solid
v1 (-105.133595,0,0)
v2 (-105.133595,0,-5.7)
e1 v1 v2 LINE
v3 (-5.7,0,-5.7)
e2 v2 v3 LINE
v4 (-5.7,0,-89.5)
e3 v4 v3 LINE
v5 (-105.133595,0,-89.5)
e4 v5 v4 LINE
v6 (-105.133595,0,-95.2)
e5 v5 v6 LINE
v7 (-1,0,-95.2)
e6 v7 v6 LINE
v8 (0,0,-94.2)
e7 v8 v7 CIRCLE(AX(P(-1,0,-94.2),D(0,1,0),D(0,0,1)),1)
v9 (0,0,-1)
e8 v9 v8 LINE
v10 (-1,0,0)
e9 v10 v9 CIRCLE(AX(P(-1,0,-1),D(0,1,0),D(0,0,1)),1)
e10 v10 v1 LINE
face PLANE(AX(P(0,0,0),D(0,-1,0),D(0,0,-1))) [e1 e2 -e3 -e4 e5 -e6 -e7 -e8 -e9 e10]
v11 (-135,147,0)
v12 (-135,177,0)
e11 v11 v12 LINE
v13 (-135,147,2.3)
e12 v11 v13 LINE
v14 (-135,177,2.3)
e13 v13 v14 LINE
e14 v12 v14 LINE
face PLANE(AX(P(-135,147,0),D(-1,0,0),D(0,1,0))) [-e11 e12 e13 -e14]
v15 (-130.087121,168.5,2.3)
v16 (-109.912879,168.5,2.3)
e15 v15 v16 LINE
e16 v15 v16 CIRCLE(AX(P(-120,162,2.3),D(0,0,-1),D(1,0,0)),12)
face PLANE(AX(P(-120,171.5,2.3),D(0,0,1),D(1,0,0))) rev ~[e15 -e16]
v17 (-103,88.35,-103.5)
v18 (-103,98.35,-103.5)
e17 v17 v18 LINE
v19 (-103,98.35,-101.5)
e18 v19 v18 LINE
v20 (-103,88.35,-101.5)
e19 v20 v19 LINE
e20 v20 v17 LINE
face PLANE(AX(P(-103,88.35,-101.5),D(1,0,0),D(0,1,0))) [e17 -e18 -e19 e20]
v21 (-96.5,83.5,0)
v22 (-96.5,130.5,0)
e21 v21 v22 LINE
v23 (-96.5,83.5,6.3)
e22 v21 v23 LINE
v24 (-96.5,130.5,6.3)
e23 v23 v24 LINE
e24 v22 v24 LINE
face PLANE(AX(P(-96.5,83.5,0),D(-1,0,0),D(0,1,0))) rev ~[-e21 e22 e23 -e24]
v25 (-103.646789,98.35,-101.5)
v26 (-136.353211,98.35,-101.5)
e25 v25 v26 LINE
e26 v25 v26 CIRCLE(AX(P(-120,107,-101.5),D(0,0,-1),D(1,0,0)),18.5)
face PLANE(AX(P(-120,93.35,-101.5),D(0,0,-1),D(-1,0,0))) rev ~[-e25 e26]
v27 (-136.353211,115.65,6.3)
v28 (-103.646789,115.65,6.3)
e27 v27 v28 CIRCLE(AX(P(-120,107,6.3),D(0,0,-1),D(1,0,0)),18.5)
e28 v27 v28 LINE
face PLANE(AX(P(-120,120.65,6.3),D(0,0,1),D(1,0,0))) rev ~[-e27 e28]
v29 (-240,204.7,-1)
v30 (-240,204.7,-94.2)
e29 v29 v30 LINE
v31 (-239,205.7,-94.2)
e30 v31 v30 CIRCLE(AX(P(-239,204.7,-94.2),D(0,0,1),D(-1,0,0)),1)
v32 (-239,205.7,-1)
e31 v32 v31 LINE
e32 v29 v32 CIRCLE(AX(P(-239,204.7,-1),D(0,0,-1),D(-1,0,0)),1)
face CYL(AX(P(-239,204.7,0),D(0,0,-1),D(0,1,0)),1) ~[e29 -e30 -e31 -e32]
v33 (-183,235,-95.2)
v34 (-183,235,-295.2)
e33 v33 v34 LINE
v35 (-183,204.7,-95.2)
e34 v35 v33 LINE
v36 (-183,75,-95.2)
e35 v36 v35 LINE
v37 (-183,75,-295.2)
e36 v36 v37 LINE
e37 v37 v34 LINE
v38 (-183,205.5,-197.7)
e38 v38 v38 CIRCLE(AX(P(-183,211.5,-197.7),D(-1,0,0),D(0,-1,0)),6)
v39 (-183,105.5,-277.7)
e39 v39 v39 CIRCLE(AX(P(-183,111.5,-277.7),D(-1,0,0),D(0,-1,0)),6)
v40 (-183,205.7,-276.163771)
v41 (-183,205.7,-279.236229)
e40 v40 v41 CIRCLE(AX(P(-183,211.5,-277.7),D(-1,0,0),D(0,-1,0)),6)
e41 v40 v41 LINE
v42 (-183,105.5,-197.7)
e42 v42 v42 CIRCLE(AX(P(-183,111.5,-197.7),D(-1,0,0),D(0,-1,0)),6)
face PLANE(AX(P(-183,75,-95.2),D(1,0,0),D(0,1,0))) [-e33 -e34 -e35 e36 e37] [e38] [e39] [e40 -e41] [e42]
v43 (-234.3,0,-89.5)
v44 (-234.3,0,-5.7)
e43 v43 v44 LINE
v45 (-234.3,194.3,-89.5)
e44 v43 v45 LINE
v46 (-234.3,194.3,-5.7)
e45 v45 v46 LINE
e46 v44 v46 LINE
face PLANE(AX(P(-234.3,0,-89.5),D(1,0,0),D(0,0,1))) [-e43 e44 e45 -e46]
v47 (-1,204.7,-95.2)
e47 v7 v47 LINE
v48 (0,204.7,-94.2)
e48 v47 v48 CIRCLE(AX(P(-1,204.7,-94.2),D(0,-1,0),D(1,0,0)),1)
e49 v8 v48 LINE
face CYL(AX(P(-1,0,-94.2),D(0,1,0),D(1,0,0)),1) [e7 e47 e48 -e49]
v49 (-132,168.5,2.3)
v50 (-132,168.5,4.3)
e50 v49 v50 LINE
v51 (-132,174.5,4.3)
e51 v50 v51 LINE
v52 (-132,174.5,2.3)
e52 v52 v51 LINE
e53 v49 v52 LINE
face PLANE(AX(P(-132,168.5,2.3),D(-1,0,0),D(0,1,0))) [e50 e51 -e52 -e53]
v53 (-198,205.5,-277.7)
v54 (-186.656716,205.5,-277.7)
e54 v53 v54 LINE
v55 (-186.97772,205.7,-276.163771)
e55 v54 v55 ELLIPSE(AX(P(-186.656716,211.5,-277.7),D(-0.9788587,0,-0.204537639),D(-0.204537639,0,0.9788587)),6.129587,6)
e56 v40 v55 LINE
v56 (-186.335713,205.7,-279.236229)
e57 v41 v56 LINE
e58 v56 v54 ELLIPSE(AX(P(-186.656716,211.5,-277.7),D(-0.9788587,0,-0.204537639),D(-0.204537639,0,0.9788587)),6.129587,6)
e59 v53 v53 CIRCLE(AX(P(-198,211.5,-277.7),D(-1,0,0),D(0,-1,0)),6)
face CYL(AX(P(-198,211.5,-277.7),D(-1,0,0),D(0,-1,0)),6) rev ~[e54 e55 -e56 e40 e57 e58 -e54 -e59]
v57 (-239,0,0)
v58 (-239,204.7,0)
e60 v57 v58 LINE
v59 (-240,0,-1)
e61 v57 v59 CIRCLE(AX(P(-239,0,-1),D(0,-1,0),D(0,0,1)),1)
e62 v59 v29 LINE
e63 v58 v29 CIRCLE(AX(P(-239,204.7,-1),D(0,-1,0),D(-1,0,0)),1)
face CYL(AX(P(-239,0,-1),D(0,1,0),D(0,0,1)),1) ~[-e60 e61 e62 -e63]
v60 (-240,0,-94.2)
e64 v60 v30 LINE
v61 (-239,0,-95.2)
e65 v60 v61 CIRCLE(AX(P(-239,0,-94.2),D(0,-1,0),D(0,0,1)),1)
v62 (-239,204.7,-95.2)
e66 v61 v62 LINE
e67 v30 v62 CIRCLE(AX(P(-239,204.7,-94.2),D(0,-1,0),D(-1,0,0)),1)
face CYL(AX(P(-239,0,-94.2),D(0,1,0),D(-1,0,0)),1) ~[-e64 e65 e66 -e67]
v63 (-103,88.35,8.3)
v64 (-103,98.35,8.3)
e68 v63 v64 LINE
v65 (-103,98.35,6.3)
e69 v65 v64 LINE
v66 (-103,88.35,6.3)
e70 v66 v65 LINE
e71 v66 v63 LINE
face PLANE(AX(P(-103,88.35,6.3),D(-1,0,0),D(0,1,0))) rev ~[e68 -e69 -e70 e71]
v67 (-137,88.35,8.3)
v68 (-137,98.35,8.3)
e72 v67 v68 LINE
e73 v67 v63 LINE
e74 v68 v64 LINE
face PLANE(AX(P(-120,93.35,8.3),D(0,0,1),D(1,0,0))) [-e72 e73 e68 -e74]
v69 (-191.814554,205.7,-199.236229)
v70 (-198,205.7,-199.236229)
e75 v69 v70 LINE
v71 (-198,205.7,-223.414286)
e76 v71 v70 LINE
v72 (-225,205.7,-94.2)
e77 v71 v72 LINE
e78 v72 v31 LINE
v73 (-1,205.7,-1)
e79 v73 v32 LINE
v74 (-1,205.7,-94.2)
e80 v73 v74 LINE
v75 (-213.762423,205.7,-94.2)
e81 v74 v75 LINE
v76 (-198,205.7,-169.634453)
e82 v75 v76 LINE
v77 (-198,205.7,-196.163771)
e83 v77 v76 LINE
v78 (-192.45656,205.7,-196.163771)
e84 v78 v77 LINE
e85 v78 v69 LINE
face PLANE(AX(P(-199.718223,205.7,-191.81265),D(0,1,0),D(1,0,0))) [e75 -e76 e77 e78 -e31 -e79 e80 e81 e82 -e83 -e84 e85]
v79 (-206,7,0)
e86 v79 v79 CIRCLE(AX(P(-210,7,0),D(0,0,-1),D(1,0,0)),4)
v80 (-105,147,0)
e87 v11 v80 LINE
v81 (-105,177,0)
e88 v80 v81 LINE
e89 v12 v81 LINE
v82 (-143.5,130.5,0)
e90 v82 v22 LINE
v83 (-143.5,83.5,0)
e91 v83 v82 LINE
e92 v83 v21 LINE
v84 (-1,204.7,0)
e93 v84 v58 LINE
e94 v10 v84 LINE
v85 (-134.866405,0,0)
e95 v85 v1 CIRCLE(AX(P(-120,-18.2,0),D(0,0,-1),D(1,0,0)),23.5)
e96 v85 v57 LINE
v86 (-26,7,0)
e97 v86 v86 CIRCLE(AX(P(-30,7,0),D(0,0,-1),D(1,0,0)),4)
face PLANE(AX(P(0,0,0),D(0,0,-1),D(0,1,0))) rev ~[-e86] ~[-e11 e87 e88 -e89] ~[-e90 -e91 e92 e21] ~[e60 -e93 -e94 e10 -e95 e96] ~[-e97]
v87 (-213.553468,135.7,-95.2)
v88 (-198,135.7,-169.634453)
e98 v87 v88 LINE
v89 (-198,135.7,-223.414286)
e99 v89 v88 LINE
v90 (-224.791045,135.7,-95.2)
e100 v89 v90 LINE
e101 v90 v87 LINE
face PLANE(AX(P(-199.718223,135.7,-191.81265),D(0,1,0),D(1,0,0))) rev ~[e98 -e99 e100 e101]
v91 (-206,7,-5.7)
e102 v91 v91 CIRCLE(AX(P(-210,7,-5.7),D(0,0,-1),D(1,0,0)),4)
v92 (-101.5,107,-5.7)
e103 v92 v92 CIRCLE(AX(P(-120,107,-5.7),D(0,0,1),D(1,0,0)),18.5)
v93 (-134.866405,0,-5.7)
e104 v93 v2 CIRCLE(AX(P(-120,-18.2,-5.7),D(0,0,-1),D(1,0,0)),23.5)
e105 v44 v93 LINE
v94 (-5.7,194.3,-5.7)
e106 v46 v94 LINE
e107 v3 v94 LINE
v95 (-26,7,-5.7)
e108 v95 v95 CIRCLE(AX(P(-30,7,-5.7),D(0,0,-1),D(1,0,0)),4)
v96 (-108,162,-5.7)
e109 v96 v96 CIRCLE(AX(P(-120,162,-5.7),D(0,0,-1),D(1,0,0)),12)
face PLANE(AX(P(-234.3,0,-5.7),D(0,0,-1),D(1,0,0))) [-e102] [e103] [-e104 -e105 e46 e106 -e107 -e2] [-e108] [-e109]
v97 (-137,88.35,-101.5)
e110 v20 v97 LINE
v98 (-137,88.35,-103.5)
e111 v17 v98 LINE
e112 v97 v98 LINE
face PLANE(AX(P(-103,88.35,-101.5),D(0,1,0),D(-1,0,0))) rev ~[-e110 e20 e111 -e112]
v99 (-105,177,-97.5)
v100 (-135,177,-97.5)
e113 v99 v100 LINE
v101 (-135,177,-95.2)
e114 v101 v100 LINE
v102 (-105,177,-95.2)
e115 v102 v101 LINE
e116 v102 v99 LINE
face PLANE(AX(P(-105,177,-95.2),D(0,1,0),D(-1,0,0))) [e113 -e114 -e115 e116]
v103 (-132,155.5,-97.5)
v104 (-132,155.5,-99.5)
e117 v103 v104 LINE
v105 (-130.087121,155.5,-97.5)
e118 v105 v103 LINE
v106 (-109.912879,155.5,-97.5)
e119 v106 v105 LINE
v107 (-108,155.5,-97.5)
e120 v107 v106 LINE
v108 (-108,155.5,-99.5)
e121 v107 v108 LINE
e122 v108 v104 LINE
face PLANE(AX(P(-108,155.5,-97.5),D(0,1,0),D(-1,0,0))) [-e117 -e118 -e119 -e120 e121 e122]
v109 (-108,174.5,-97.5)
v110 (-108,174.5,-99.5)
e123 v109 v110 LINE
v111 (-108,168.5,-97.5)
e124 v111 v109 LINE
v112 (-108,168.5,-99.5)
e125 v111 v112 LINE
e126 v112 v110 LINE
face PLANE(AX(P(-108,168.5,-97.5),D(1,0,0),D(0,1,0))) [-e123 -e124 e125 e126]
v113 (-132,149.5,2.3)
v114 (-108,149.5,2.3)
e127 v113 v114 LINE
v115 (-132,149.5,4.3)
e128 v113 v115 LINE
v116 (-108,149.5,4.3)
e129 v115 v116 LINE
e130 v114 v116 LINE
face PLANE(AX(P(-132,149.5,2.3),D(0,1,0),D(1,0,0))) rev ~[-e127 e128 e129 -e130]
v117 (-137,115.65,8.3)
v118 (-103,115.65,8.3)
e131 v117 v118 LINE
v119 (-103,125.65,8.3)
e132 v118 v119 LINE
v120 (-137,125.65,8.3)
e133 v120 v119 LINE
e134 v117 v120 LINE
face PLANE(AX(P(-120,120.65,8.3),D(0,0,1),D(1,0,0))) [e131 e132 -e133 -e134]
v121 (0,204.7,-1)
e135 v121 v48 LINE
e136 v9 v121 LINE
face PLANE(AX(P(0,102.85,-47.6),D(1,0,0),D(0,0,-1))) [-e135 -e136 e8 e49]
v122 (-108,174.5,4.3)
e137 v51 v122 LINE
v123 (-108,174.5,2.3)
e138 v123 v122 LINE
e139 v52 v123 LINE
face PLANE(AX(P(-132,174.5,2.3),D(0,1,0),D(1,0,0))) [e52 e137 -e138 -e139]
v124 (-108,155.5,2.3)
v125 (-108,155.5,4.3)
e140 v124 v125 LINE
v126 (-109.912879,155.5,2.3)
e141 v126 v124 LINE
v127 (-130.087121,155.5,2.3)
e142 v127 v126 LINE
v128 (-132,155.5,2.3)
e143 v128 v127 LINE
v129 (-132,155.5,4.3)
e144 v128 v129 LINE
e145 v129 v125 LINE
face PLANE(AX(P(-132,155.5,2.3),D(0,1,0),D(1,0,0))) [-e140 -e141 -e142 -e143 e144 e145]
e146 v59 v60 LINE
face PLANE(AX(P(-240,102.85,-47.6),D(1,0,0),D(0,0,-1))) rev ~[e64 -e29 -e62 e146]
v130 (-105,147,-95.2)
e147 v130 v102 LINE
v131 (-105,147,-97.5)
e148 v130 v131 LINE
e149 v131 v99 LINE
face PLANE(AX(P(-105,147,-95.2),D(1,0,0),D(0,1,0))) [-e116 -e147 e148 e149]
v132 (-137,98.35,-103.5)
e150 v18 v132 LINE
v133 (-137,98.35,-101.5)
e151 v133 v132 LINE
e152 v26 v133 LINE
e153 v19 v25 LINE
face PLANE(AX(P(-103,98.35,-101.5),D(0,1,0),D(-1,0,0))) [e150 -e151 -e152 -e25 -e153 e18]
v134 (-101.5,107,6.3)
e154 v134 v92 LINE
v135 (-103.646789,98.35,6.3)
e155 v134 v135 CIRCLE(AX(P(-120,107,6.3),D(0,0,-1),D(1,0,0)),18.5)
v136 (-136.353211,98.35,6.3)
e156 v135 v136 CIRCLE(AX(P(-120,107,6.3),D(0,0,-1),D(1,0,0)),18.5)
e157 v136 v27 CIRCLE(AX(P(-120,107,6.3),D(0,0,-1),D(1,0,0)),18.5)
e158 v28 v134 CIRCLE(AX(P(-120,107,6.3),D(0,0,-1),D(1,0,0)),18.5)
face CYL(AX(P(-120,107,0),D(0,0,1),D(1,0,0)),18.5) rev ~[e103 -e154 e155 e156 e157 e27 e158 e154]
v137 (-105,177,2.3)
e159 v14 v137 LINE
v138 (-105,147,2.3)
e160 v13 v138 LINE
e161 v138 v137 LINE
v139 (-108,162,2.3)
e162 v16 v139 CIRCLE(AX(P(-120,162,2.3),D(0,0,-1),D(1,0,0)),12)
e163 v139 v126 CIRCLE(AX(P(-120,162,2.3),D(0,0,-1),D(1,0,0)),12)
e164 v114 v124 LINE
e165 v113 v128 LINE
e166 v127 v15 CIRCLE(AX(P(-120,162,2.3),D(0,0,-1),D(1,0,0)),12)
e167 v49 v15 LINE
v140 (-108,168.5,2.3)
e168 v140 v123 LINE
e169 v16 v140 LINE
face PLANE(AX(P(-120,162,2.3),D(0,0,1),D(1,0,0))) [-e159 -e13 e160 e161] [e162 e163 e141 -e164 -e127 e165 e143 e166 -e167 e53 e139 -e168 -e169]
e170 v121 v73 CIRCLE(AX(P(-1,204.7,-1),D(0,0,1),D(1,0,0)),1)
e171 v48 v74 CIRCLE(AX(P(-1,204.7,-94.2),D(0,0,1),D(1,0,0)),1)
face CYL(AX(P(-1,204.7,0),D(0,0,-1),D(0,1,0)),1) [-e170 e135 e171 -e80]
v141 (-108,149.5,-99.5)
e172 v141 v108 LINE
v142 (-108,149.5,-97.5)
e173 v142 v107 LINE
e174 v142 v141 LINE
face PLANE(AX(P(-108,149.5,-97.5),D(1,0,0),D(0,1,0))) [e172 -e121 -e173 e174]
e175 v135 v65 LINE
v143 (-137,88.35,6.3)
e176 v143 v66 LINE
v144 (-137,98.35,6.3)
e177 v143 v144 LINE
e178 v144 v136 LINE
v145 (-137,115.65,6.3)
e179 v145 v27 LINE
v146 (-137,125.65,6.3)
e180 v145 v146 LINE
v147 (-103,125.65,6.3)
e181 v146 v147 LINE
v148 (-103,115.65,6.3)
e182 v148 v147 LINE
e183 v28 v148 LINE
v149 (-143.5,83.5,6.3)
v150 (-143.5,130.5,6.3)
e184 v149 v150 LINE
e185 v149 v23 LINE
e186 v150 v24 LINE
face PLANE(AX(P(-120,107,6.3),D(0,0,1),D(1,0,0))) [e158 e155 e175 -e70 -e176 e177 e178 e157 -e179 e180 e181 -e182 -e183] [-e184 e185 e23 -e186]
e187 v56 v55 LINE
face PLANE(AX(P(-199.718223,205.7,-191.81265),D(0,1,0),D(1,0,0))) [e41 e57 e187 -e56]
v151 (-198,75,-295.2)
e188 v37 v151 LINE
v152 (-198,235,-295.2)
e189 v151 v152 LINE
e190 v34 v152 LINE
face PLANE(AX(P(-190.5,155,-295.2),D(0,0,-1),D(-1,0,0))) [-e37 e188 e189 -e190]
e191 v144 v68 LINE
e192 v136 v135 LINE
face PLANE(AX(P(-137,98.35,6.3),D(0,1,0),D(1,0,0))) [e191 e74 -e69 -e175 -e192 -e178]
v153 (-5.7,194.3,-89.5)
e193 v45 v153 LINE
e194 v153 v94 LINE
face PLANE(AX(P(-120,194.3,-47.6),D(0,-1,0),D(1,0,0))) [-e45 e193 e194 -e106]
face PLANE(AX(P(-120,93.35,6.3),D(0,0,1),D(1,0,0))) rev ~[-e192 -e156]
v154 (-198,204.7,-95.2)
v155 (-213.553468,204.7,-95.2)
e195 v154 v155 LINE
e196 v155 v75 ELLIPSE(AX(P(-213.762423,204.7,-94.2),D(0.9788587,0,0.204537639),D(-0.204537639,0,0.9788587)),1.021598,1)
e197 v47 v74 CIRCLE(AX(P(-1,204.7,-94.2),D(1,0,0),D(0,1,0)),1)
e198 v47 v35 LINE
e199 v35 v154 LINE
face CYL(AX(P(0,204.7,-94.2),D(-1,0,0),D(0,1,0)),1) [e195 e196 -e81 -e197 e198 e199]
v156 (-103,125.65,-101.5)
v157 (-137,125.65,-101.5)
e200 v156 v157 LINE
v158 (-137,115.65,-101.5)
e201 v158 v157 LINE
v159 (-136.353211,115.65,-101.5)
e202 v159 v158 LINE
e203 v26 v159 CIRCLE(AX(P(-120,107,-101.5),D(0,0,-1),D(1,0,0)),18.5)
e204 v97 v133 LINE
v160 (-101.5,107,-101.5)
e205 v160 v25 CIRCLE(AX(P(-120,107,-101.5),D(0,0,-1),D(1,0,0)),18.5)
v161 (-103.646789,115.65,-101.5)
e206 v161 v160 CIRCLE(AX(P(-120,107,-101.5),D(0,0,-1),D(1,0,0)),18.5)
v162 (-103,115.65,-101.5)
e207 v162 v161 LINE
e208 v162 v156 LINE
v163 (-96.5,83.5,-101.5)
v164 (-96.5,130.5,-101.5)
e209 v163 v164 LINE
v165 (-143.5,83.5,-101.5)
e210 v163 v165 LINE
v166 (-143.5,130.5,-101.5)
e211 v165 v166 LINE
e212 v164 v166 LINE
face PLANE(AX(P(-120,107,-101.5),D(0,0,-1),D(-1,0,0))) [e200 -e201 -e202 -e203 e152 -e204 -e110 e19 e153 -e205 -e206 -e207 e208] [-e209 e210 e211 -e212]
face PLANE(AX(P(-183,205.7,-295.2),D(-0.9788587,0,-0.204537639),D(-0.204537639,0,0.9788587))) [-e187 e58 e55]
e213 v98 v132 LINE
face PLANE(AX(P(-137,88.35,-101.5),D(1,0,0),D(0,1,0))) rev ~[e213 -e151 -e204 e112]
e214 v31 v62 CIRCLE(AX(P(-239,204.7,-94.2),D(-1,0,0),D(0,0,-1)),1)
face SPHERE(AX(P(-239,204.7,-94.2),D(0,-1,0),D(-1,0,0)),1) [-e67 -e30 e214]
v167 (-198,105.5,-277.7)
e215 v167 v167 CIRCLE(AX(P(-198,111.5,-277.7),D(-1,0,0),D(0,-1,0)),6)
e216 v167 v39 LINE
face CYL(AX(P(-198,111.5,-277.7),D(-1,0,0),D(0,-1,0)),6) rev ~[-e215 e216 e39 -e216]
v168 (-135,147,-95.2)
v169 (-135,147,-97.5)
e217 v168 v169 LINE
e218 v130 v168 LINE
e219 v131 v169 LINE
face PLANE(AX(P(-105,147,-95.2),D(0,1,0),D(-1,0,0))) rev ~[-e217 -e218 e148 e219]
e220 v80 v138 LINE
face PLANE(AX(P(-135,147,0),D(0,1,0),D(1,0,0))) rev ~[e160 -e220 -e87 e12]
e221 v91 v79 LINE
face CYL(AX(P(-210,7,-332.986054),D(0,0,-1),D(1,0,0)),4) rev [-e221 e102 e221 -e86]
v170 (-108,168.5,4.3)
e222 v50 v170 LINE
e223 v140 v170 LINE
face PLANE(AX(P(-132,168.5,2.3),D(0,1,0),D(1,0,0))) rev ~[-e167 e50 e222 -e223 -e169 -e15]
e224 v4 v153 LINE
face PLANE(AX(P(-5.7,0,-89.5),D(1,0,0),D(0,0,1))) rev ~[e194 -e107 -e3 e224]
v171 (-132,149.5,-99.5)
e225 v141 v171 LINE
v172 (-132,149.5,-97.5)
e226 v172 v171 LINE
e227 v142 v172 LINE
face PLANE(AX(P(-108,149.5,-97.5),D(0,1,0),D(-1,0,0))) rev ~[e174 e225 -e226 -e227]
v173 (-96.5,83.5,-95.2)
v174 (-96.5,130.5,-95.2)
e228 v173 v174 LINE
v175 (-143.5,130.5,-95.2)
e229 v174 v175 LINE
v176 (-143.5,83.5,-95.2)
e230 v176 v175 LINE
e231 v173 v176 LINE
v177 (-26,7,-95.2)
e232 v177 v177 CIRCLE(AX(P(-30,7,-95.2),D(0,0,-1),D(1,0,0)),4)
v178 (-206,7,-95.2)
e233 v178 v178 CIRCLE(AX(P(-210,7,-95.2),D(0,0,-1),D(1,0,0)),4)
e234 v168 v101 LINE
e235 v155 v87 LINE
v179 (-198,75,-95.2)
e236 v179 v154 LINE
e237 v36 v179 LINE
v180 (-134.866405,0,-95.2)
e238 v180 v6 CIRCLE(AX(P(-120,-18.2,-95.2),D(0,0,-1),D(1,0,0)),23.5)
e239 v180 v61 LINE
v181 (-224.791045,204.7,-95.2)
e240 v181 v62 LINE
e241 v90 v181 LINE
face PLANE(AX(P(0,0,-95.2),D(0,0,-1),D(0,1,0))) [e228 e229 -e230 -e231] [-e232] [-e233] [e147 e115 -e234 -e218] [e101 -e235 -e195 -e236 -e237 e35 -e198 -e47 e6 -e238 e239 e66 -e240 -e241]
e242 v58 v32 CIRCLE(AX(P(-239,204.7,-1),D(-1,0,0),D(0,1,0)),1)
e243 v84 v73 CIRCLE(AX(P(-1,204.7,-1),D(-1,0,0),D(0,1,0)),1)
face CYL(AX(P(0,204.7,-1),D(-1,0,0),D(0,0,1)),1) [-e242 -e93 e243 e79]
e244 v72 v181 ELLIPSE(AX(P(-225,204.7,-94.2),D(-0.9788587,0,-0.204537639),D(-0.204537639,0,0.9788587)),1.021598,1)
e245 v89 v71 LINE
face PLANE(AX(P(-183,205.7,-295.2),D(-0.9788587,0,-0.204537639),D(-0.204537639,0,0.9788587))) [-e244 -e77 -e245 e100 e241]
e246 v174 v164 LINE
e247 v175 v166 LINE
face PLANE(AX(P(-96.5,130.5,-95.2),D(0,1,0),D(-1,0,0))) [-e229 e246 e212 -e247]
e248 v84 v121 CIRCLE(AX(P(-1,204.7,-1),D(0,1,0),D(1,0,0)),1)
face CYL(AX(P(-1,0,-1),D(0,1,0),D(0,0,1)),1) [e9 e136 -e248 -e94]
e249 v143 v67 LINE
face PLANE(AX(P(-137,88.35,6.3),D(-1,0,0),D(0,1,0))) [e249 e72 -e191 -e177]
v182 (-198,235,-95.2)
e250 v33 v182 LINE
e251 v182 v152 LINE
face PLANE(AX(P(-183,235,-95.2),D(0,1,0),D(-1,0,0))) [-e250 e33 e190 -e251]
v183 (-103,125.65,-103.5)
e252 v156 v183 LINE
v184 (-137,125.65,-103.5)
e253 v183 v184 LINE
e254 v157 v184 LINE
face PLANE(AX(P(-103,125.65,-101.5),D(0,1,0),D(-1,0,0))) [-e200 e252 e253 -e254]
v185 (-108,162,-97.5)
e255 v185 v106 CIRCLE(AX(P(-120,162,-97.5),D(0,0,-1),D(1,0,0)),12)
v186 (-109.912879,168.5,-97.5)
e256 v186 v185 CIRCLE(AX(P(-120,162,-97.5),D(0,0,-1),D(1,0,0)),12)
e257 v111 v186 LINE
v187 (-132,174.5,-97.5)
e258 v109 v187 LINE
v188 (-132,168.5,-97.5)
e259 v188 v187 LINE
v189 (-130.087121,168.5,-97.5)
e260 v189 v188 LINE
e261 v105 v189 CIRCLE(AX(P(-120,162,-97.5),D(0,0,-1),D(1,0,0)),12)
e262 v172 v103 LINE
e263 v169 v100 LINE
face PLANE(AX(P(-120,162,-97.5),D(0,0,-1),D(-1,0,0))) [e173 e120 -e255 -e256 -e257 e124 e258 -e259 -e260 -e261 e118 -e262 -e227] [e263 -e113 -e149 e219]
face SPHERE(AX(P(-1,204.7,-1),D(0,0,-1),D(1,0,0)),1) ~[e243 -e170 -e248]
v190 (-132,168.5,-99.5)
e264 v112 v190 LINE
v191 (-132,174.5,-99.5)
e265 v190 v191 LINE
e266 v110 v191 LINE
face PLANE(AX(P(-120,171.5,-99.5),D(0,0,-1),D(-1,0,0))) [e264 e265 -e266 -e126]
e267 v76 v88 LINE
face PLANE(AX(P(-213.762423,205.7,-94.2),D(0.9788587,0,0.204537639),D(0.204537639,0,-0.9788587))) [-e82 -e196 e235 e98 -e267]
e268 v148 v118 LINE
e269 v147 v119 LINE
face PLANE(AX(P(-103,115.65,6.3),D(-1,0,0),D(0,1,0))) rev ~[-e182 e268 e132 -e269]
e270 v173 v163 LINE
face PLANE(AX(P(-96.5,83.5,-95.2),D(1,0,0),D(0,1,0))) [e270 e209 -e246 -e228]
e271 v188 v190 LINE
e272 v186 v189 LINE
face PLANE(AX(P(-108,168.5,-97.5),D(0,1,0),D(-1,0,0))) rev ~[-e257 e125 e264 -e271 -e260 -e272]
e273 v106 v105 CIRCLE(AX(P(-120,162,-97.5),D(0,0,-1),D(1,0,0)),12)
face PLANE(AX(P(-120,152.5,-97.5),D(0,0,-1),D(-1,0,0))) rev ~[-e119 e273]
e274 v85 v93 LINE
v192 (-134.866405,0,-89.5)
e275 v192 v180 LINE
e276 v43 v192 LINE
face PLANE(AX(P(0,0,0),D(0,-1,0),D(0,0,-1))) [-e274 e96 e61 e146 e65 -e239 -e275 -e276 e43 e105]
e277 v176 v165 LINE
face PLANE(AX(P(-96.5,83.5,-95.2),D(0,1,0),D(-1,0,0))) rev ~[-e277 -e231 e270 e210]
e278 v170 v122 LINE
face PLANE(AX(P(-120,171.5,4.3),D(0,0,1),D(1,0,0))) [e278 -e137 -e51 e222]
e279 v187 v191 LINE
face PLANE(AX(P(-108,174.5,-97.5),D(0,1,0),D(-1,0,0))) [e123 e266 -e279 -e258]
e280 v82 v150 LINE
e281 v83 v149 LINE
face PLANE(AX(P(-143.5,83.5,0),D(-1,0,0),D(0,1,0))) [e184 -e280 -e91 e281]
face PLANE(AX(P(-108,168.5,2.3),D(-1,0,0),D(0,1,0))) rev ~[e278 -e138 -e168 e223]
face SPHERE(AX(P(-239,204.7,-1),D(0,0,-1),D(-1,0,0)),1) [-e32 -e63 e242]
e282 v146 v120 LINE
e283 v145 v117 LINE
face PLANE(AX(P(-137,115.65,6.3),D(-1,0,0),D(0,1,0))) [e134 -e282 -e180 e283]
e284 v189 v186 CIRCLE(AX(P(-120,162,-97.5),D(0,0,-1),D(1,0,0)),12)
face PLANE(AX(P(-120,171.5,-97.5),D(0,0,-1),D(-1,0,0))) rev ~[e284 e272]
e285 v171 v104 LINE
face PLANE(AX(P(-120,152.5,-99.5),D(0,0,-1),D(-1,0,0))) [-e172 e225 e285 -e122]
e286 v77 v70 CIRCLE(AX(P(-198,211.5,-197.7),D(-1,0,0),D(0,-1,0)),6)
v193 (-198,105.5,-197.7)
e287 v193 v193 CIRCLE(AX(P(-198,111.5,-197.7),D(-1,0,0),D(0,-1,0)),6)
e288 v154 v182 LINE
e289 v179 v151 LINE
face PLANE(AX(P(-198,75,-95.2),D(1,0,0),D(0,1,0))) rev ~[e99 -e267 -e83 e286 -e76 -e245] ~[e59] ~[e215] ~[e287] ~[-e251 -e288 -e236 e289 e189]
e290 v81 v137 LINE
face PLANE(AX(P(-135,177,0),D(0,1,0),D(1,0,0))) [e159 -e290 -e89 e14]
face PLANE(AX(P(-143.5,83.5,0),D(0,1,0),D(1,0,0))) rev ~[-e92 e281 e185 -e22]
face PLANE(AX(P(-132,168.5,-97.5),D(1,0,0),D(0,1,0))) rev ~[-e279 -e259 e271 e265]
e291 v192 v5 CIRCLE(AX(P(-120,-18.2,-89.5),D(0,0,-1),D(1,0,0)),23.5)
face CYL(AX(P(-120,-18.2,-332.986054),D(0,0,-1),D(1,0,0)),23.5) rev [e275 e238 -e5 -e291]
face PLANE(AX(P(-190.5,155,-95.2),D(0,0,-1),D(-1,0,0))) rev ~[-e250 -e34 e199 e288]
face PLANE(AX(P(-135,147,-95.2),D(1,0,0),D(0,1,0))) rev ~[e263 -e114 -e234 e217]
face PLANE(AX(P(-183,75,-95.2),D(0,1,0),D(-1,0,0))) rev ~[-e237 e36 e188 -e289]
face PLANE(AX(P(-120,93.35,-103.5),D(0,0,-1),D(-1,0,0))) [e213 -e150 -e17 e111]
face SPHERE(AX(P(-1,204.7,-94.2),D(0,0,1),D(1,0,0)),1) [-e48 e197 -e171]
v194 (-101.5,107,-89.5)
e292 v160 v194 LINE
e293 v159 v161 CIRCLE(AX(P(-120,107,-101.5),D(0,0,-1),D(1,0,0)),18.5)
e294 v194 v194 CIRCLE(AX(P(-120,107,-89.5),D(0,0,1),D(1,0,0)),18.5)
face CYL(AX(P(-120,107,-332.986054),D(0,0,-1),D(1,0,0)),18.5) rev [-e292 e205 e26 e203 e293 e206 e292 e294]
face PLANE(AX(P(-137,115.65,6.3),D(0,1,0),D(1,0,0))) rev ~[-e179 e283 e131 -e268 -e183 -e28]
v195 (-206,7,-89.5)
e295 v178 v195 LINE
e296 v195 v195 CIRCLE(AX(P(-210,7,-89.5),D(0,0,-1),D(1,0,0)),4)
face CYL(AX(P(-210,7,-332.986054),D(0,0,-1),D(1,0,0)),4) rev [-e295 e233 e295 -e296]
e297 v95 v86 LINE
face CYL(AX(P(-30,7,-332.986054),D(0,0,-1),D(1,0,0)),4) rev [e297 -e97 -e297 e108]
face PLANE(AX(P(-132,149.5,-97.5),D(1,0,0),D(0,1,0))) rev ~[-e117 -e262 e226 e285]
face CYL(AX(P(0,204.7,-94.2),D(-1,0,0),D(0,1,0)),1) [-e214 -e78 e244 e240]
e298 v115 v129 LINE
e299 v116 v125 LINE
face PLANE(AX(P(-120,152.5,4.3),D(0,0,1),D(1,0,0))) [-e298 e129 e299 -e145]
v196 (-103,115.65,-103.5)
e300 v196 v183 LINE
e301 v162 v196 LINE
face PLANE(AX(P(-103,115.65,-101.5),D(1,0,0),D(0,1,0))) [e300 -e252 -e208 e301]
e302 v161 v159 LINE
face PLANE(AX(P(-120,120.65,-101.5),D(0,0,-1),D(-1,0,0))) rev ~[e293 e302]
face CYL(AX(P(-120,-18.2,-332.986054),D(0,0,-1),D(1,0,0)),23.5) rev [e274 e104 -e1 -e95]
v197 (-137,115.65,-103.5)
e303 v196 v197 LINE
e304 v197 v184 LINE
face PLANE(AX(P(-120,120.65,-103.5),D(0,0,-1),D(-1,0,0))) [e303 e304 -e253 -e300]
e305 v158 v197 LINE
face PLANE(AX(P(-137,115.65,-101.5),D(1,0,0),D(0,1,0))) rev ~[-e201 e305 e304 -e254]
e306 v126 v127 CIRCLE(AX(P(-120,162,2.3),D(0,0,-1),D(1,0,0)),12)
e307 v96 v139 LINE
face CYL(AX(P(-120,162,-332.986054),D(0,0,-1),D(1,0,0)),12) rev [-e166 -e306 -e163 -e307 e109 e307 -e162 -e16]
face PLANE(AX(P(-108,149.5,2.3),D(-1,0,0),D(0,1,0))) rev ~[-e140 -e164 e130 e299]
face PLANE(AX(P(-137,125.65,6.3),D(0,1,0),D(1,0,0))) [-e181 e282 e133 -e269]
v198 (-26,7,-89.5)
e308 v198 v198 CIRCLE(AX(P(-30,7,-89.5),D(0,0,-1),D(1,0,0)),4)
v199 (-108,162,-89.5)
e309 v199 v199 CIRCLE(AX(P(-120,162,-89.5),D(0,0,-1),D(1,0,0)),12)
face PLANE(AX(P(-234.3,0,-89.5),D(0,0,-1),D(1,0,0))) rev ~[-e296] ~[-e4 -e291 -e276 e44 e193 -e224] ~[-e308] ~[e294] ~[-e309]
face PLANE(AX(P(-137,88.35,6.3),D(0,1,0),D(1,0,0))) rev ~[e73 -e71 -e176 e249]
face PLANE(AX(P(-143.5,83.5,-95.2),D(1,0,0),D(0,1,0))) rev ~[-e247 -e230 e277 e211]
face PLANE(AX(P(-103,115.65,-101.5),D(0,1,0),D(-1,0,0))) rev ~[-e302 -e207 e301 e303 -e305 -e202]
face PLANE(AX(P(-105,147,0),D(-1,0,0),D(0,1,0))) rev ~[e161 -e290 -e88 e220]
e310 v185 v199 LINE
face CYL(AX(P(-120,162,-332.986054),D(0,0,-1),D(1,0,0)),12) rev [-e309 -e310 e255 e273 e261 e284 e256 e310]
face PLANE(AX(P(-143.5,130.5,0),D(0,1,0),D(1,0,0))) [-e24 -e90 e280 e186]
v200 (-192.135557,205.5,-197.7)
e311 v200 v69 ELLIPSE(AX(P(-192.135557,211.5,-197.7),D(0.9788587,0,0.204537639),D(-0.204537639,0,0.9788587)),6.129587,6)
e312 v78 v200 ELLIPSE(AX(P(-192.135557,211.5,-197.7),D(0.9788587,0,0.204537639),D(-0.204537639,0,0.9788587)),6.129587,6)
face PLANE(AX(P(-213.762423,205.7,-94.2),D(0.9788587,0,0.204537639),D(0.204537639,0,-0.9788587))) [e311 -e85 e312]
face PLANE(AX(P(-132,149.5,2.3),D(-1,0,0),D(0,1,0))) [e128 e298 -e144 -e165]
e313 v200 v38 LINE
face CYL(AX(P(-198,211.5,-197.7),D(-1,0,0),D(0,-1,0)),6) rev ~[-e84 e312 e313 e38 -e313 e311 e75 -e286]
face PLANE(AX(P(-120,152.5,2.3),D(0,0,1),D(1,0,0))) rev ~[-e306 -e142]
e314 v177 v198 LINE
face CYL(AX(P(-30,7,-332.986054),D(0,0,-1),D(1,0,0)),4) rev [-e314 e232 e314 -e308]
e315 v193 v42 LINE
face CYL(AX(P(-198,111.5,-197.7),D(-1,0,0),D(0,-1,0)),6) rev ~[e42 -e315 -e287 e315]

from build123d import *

# Parameters (mm, degrees)
SKETCH1_W               = 95.2
SKETCH1_H               = 205.7
BOSS_EXTRUDE1_DEPTH     = 240
SKETCH2_W               = 228.6
SKETCH2_H               = 83.8
CUT_EXTRUDE1_DEPTH      = 194.3
FILLET1_R               = 1
SKETCH3_R               = 18.5
CUT_EXTRUDE2_DEPTH      = 331.114419558
SKETCH4_W               = 47
SKETCH4_H               = 47
BOSS_EXTRUDE2_DEPTH     = 6.3
SKETCH6_W               = 47
SKETCH6_H               = 47
BOSS_EXTRUDE3_DEPTH     = 6.3
CUT_EXTRUDE3_DEPTH      = 332.986053924
CUT_EXTRUDE3_DEPTH_BACK = 332.986053924
SKETCH7_R               = 18.5
CUT_EXTRUDE4_DEPTH      = 332.986053924
CUT_EXTRUDE4_DEPTH_BACK = 332.986053924
SKETCH8_R               = 23.5
CUT_EXTRUDE5_DEPTH      = 332.986053924
CUT_EXTRUDE5_DEPTH_BACK = 332.986053924
SKETCH9_R               = 12
SKETCH10_W              = 30
SKETCH10_H              = 30
BOSS_EXTRUDE5_DEPTH     = 2.3
SKETCH11_W              = 30
SKETCH11_H              = 30
BOSS_EXTRUDE6_DEPTH     = 2.3
CUT_EXTRUDE6_DEPTH      = 332.986053924
CUT_EXTRUDE6_DEPTH_BACK = 332.986053924
SKETCH12_R              = 12
CUT_EXTRUDE7_DEPTH      = 332.986053924
CUT_EXTRUDE7_DEPTH_BACK = 332.986053924
SKETCH14_R              = 4
SKETCH15_W              = 34
SKETCH15_H              = 10
BOSS_EXTRUDE7_DEPTH     = 2
SKETCH17_W              = 34
SKETCH17_H              = 10
BOSS_EXTRUDE14_DEPTH    = 2
SKETCH18_W              = 24
SKETCH18_H              = 6
BOSS_EXTRUDE17_DEPTH    = 2
SKETCH19_W              = 24
SKETCH19_H              = 6
BOSS_EXTRUDE18_DEPTH    = 2
SKETCH20_W              = 15
SKETCH20_H              = 160
BOSS_EXTRUDE19_DEPTH    = 200
SKETCH21_R              = 6
CUT_EXTRUDE8_DEPTH      = 20
BOSS_EXTRUDE20_DEPTH    = 70


with BuildPart() as part:
    # Sketch1 → Boss-Extrude1 (new body)
    with BuildSketch(Plane(origin=(0, 0, 0), x_dir=(0, 0, -1), z_dir=(1, 0, 0))):
        with Locations((47.6, 102.85)):
            Rectangle(SKETCH1_W, SKETCH1_H)
    extrude(amount=-BOSS_EXTRUDE1_DEPTH)

    # Sketch2 → Cut-Extrude1 (cut)
    with BuildSketch(Plane.XZ):
        with Locations((-120, -47.6)):
            Rectangle(SKETCH2_W, SKETCH2_H)
    extrude(amount=-CUT_EXTRUDE1_DEPTH, mode=Mode.SUBTRACT)

    # Fillet1
    fillet1_edges = [part.edges().sort_by_distance(p)[0] for p in [
        (-240, 102.85, -95.2),
        (-240, 205.7, -47.6),
        (-240, 102.85, 0),
        (0, 205.7, -47.6),
        (0, 102.85, -95.2),
        (0, 102.85, 0),
        (-120, 205.7, 0),
        (-120, 205.7, -95.2),
    ]]
    fillet(fillet1_edges, radius=FILLET1_R)

    # Sketch3 → Cut-Extrude2 (cut, through all)
    with BuildSketch(Plane.XY):
        with Locations((-120, 107)):
            Circle(SKETCH3_R)
    extrude(amount=-CUT_EXTRUDE2_DEPTH, mode=Mode.SUBTRACT)

    # Sketch4 → Boss-Extrude2 (add)
    with BuildSketch(Plane.XY):
        with Locations((-120, 107)):
            Rectangle(SKETCH4_W, SKETCH4_H)
    extrude(amount=BOSS_EXTRUDE2_DEPTH)

    # Sketch6 → Boss-Extrude3 (add)
    with BuildSketch(Plane(origin=(0, 0, -95.2), x_dir=(-1, 0, 0), z_dir=(0, 0, -1))):
        with Locations((120, 107)):
            Rectangle(SKETCH6_W, SKETCH6_H)
    extrude(amount=BOSS_EXTRUDE3_DEPTH)

    # Sketch7 → Cut-Extrude3 (cut, two sides: drawn at the far end of the back side and taken through both)
    with BuildSketch(Plane.XY.offset(-CUT_EXTRUDE3_DEPTH_BACK)):
        with Locations((-120, 107)):
            Circle(SKETCH7_R)
    extrude(amount=CUT_EXTRUDE3_DEPTH + CUT_EXTRUDE3_DEPTH_BACK, mode=Mode.SUBTRACT)

    # Sketch8 → Cut-Extrude4 (cut, two sides: drawn at the far end of the back side and taken through both)
    with BuildSketch(Plane.XY.offset(-CUT_EXTRUDE4_DEPTH_BACK)):
        with Locations((-120, -18.2)):
            Circle(SKETCH8_R)
    extrude(amount=CUT_EXTRUDE4_DEPTH + CUT_EXTRUDE4_DEPTH_BACK, mode=Mode.SUBTRACT)

    # Sketch9 → Cut-Extrude5 (cut, two sides: drawn at the far end of the back side and taken through both)
    with BuildSketch(Plane.XY.offset(-CUT_EXTRUDE5_DEPTH_BACK)):
        with Locations((-120, 162)):
            Circle(SKETCH9_R)
    extrude(amount=CUT_EXTRUDE5_DEPTH + CUT_EXTRUDE5_DEPTH_BACK, mode=Mode.SUBTRACT)

    # Sketch10 → Boss-Extrude5 (add)
    with BuildSketch(Plane.XY):
        with Locations((-120, 162)):
            Rectangle(SKETCH10_W, SKETCH10_H)
    extrude(amount=BOSS_EXTRUDE5_DEPTH)

    # Sketch11 → Boss-Extrude6 (add)
    with BuildSketch(Plane(origin=(0, 0, -95.2), x_dir=(-1, 0, 0), z_dir=(0, 0, -1))):
        with Locations((120, 162)):
            Rectangle(SKETCH11_W, SKETCH11_H)
    extrude(amount=BOSS_EXTRUDE6_DEPTH)

    # Sketch12 → Cut-Extrude6 (cut, two sides: drawn at the far end of the back side and taken through both)
    with BuildSketch(Plane.XY.offset(-CUT_EXTRUDE6_DEPTH_BACK)):
        with Locations((-120, 162)):
            Circle(SKETCH12_R)
    extrude(amount=CUT_EXTRUDE6_DEPTH + CUT_EXTRUDE6_DEPTH_BACK, mode=Mode.SUBTRACT)

    # Sketch14 → Cut-Extrude7 (cut, two sides: drawn at the far end of the back side and taken through both)
    with BuildSketch(Plane.XY.offset(-CUT_EXTRUDE7_DEPTH_BACK)):
        with Locations((-30, 7)):
            Circle(SKETCH14_R)
        with Locations((-210, 7)):
            Circle(SKETCH14_R)
    extrude(amount=CUT_EXTRUDE7_DEPTH + CUT_EXTRUDE7_DEPTH_BACK, mode=Mode.SUBTRACT)

    # Sketch15 → Boss-Extrude7 (add)
    with BuildSketch(Plane(origin=(0, 0, -101.5), x_dir=(-1, 0, 0), z_dir=(0, 0, -1))):
        with Locations((120, 93.35)):
            Rectangle(SKETCH15_W, SKETCH15_H)
        with Locations((120, 120.65)):
            Rectangle(SKETCH15_W, SKETCH15_H)
    extrude(amount=BOSS_EXTRUDE7_DEPTH)

    # Sketch17 → Boss-Extrude14 (add)
    with BuildSketch(Plane.XY.offset(6.3)):
        with Locations((-120, 93.35)):
            Rectangle(SKETCH17_W, SKETCH17_H)
        with Locations((-120, 120.65)):
            Rectangle(SKETCH17_W, SKETCH17_H)
    extrude(amount=BOSS_EXTRUDE14_DEPTH)

    # Sketch18 → Boss-Extrude17 (add)
    with BuildSketch(Plane.XY.offset(2.3)):
        with Locations((-120, 152.5)):
            Rectangle(SKETCH18_W, SKETCH18_H)
        with Locations((-120, 171.5)):
            Rectangle(SKETCH18_W, SKETCH18_H)
    extrude(amount=BOSS_EXTRUDE17_DEPTH)

    # Sketch19 → Boss-Extrude18 (add)
    with BuildSketch(Plane(origin=(0, 0, -97.5), x_dir=(-1, 0, 0), z_dir=(0, 0, -1))):
        with Locations((120, 152.5)):
            Rectangle(SKETCH19_W, SKETCH19_H)
        with Locations((120, 171.5)):
            Rectangle(SKETCH19_W, SKETCH19_H)
    extrude(amount=BOSS_EXTRUDE18_DEPTH)

    # Sketch20 → Boss-Extrude19 (add)
    with BuildSketch(Plane(origin=(0, 0, -95.2), x_dir=(-1, 0, 0), z_dir=(0, 0, -1))):
        with Locations((190.5, 155)):
            Rectangle(SKETCH20_W, SKETCH20_H)
    extrude(amount=BOSS_EXTRUDE19_DEPTH)

    # Sketch21 → Cut-Extrude8 (cut)
    with BuildSketch(Plane.ZY.offset(198)):
        with Locations(Location((-277.7, 211.5, 0), (0, 0, 270))):
            Circle(SKETCH21_R)
        with Locations(Location((-197.7, 211.5, 0), (0, 0, 270))):
            Circle(SKETCH21_R)
        with Locations(Location((-277.7, 111.5, 0), (0, 0, 270))):
            Circle(SKETCH21_R)
        with Locations(Location((-197.7, 111.5, 0), (0, 0, 270))):
            Circle(SKETCH21_R)
    extrude(amount=-CUT_EXTRUDE8_DEPTH, mode=Mode.SUBTRACT)

    # Sketch22 → Boss-Extrude20 (add)
    with BuildSketch(Plane(origin=(0, 205.7, 0), x_dir=(1, 0, 0), z_dir=(0, 1, 0))):
        Polygon((-183, 295.2), (-225, 94.2), (-213.762423012, 94.2), (-183, 241.420167273), align=None)
    extrude(amount=-BOSS_EXTRUDE20_DEPTH)


solid = part.part
